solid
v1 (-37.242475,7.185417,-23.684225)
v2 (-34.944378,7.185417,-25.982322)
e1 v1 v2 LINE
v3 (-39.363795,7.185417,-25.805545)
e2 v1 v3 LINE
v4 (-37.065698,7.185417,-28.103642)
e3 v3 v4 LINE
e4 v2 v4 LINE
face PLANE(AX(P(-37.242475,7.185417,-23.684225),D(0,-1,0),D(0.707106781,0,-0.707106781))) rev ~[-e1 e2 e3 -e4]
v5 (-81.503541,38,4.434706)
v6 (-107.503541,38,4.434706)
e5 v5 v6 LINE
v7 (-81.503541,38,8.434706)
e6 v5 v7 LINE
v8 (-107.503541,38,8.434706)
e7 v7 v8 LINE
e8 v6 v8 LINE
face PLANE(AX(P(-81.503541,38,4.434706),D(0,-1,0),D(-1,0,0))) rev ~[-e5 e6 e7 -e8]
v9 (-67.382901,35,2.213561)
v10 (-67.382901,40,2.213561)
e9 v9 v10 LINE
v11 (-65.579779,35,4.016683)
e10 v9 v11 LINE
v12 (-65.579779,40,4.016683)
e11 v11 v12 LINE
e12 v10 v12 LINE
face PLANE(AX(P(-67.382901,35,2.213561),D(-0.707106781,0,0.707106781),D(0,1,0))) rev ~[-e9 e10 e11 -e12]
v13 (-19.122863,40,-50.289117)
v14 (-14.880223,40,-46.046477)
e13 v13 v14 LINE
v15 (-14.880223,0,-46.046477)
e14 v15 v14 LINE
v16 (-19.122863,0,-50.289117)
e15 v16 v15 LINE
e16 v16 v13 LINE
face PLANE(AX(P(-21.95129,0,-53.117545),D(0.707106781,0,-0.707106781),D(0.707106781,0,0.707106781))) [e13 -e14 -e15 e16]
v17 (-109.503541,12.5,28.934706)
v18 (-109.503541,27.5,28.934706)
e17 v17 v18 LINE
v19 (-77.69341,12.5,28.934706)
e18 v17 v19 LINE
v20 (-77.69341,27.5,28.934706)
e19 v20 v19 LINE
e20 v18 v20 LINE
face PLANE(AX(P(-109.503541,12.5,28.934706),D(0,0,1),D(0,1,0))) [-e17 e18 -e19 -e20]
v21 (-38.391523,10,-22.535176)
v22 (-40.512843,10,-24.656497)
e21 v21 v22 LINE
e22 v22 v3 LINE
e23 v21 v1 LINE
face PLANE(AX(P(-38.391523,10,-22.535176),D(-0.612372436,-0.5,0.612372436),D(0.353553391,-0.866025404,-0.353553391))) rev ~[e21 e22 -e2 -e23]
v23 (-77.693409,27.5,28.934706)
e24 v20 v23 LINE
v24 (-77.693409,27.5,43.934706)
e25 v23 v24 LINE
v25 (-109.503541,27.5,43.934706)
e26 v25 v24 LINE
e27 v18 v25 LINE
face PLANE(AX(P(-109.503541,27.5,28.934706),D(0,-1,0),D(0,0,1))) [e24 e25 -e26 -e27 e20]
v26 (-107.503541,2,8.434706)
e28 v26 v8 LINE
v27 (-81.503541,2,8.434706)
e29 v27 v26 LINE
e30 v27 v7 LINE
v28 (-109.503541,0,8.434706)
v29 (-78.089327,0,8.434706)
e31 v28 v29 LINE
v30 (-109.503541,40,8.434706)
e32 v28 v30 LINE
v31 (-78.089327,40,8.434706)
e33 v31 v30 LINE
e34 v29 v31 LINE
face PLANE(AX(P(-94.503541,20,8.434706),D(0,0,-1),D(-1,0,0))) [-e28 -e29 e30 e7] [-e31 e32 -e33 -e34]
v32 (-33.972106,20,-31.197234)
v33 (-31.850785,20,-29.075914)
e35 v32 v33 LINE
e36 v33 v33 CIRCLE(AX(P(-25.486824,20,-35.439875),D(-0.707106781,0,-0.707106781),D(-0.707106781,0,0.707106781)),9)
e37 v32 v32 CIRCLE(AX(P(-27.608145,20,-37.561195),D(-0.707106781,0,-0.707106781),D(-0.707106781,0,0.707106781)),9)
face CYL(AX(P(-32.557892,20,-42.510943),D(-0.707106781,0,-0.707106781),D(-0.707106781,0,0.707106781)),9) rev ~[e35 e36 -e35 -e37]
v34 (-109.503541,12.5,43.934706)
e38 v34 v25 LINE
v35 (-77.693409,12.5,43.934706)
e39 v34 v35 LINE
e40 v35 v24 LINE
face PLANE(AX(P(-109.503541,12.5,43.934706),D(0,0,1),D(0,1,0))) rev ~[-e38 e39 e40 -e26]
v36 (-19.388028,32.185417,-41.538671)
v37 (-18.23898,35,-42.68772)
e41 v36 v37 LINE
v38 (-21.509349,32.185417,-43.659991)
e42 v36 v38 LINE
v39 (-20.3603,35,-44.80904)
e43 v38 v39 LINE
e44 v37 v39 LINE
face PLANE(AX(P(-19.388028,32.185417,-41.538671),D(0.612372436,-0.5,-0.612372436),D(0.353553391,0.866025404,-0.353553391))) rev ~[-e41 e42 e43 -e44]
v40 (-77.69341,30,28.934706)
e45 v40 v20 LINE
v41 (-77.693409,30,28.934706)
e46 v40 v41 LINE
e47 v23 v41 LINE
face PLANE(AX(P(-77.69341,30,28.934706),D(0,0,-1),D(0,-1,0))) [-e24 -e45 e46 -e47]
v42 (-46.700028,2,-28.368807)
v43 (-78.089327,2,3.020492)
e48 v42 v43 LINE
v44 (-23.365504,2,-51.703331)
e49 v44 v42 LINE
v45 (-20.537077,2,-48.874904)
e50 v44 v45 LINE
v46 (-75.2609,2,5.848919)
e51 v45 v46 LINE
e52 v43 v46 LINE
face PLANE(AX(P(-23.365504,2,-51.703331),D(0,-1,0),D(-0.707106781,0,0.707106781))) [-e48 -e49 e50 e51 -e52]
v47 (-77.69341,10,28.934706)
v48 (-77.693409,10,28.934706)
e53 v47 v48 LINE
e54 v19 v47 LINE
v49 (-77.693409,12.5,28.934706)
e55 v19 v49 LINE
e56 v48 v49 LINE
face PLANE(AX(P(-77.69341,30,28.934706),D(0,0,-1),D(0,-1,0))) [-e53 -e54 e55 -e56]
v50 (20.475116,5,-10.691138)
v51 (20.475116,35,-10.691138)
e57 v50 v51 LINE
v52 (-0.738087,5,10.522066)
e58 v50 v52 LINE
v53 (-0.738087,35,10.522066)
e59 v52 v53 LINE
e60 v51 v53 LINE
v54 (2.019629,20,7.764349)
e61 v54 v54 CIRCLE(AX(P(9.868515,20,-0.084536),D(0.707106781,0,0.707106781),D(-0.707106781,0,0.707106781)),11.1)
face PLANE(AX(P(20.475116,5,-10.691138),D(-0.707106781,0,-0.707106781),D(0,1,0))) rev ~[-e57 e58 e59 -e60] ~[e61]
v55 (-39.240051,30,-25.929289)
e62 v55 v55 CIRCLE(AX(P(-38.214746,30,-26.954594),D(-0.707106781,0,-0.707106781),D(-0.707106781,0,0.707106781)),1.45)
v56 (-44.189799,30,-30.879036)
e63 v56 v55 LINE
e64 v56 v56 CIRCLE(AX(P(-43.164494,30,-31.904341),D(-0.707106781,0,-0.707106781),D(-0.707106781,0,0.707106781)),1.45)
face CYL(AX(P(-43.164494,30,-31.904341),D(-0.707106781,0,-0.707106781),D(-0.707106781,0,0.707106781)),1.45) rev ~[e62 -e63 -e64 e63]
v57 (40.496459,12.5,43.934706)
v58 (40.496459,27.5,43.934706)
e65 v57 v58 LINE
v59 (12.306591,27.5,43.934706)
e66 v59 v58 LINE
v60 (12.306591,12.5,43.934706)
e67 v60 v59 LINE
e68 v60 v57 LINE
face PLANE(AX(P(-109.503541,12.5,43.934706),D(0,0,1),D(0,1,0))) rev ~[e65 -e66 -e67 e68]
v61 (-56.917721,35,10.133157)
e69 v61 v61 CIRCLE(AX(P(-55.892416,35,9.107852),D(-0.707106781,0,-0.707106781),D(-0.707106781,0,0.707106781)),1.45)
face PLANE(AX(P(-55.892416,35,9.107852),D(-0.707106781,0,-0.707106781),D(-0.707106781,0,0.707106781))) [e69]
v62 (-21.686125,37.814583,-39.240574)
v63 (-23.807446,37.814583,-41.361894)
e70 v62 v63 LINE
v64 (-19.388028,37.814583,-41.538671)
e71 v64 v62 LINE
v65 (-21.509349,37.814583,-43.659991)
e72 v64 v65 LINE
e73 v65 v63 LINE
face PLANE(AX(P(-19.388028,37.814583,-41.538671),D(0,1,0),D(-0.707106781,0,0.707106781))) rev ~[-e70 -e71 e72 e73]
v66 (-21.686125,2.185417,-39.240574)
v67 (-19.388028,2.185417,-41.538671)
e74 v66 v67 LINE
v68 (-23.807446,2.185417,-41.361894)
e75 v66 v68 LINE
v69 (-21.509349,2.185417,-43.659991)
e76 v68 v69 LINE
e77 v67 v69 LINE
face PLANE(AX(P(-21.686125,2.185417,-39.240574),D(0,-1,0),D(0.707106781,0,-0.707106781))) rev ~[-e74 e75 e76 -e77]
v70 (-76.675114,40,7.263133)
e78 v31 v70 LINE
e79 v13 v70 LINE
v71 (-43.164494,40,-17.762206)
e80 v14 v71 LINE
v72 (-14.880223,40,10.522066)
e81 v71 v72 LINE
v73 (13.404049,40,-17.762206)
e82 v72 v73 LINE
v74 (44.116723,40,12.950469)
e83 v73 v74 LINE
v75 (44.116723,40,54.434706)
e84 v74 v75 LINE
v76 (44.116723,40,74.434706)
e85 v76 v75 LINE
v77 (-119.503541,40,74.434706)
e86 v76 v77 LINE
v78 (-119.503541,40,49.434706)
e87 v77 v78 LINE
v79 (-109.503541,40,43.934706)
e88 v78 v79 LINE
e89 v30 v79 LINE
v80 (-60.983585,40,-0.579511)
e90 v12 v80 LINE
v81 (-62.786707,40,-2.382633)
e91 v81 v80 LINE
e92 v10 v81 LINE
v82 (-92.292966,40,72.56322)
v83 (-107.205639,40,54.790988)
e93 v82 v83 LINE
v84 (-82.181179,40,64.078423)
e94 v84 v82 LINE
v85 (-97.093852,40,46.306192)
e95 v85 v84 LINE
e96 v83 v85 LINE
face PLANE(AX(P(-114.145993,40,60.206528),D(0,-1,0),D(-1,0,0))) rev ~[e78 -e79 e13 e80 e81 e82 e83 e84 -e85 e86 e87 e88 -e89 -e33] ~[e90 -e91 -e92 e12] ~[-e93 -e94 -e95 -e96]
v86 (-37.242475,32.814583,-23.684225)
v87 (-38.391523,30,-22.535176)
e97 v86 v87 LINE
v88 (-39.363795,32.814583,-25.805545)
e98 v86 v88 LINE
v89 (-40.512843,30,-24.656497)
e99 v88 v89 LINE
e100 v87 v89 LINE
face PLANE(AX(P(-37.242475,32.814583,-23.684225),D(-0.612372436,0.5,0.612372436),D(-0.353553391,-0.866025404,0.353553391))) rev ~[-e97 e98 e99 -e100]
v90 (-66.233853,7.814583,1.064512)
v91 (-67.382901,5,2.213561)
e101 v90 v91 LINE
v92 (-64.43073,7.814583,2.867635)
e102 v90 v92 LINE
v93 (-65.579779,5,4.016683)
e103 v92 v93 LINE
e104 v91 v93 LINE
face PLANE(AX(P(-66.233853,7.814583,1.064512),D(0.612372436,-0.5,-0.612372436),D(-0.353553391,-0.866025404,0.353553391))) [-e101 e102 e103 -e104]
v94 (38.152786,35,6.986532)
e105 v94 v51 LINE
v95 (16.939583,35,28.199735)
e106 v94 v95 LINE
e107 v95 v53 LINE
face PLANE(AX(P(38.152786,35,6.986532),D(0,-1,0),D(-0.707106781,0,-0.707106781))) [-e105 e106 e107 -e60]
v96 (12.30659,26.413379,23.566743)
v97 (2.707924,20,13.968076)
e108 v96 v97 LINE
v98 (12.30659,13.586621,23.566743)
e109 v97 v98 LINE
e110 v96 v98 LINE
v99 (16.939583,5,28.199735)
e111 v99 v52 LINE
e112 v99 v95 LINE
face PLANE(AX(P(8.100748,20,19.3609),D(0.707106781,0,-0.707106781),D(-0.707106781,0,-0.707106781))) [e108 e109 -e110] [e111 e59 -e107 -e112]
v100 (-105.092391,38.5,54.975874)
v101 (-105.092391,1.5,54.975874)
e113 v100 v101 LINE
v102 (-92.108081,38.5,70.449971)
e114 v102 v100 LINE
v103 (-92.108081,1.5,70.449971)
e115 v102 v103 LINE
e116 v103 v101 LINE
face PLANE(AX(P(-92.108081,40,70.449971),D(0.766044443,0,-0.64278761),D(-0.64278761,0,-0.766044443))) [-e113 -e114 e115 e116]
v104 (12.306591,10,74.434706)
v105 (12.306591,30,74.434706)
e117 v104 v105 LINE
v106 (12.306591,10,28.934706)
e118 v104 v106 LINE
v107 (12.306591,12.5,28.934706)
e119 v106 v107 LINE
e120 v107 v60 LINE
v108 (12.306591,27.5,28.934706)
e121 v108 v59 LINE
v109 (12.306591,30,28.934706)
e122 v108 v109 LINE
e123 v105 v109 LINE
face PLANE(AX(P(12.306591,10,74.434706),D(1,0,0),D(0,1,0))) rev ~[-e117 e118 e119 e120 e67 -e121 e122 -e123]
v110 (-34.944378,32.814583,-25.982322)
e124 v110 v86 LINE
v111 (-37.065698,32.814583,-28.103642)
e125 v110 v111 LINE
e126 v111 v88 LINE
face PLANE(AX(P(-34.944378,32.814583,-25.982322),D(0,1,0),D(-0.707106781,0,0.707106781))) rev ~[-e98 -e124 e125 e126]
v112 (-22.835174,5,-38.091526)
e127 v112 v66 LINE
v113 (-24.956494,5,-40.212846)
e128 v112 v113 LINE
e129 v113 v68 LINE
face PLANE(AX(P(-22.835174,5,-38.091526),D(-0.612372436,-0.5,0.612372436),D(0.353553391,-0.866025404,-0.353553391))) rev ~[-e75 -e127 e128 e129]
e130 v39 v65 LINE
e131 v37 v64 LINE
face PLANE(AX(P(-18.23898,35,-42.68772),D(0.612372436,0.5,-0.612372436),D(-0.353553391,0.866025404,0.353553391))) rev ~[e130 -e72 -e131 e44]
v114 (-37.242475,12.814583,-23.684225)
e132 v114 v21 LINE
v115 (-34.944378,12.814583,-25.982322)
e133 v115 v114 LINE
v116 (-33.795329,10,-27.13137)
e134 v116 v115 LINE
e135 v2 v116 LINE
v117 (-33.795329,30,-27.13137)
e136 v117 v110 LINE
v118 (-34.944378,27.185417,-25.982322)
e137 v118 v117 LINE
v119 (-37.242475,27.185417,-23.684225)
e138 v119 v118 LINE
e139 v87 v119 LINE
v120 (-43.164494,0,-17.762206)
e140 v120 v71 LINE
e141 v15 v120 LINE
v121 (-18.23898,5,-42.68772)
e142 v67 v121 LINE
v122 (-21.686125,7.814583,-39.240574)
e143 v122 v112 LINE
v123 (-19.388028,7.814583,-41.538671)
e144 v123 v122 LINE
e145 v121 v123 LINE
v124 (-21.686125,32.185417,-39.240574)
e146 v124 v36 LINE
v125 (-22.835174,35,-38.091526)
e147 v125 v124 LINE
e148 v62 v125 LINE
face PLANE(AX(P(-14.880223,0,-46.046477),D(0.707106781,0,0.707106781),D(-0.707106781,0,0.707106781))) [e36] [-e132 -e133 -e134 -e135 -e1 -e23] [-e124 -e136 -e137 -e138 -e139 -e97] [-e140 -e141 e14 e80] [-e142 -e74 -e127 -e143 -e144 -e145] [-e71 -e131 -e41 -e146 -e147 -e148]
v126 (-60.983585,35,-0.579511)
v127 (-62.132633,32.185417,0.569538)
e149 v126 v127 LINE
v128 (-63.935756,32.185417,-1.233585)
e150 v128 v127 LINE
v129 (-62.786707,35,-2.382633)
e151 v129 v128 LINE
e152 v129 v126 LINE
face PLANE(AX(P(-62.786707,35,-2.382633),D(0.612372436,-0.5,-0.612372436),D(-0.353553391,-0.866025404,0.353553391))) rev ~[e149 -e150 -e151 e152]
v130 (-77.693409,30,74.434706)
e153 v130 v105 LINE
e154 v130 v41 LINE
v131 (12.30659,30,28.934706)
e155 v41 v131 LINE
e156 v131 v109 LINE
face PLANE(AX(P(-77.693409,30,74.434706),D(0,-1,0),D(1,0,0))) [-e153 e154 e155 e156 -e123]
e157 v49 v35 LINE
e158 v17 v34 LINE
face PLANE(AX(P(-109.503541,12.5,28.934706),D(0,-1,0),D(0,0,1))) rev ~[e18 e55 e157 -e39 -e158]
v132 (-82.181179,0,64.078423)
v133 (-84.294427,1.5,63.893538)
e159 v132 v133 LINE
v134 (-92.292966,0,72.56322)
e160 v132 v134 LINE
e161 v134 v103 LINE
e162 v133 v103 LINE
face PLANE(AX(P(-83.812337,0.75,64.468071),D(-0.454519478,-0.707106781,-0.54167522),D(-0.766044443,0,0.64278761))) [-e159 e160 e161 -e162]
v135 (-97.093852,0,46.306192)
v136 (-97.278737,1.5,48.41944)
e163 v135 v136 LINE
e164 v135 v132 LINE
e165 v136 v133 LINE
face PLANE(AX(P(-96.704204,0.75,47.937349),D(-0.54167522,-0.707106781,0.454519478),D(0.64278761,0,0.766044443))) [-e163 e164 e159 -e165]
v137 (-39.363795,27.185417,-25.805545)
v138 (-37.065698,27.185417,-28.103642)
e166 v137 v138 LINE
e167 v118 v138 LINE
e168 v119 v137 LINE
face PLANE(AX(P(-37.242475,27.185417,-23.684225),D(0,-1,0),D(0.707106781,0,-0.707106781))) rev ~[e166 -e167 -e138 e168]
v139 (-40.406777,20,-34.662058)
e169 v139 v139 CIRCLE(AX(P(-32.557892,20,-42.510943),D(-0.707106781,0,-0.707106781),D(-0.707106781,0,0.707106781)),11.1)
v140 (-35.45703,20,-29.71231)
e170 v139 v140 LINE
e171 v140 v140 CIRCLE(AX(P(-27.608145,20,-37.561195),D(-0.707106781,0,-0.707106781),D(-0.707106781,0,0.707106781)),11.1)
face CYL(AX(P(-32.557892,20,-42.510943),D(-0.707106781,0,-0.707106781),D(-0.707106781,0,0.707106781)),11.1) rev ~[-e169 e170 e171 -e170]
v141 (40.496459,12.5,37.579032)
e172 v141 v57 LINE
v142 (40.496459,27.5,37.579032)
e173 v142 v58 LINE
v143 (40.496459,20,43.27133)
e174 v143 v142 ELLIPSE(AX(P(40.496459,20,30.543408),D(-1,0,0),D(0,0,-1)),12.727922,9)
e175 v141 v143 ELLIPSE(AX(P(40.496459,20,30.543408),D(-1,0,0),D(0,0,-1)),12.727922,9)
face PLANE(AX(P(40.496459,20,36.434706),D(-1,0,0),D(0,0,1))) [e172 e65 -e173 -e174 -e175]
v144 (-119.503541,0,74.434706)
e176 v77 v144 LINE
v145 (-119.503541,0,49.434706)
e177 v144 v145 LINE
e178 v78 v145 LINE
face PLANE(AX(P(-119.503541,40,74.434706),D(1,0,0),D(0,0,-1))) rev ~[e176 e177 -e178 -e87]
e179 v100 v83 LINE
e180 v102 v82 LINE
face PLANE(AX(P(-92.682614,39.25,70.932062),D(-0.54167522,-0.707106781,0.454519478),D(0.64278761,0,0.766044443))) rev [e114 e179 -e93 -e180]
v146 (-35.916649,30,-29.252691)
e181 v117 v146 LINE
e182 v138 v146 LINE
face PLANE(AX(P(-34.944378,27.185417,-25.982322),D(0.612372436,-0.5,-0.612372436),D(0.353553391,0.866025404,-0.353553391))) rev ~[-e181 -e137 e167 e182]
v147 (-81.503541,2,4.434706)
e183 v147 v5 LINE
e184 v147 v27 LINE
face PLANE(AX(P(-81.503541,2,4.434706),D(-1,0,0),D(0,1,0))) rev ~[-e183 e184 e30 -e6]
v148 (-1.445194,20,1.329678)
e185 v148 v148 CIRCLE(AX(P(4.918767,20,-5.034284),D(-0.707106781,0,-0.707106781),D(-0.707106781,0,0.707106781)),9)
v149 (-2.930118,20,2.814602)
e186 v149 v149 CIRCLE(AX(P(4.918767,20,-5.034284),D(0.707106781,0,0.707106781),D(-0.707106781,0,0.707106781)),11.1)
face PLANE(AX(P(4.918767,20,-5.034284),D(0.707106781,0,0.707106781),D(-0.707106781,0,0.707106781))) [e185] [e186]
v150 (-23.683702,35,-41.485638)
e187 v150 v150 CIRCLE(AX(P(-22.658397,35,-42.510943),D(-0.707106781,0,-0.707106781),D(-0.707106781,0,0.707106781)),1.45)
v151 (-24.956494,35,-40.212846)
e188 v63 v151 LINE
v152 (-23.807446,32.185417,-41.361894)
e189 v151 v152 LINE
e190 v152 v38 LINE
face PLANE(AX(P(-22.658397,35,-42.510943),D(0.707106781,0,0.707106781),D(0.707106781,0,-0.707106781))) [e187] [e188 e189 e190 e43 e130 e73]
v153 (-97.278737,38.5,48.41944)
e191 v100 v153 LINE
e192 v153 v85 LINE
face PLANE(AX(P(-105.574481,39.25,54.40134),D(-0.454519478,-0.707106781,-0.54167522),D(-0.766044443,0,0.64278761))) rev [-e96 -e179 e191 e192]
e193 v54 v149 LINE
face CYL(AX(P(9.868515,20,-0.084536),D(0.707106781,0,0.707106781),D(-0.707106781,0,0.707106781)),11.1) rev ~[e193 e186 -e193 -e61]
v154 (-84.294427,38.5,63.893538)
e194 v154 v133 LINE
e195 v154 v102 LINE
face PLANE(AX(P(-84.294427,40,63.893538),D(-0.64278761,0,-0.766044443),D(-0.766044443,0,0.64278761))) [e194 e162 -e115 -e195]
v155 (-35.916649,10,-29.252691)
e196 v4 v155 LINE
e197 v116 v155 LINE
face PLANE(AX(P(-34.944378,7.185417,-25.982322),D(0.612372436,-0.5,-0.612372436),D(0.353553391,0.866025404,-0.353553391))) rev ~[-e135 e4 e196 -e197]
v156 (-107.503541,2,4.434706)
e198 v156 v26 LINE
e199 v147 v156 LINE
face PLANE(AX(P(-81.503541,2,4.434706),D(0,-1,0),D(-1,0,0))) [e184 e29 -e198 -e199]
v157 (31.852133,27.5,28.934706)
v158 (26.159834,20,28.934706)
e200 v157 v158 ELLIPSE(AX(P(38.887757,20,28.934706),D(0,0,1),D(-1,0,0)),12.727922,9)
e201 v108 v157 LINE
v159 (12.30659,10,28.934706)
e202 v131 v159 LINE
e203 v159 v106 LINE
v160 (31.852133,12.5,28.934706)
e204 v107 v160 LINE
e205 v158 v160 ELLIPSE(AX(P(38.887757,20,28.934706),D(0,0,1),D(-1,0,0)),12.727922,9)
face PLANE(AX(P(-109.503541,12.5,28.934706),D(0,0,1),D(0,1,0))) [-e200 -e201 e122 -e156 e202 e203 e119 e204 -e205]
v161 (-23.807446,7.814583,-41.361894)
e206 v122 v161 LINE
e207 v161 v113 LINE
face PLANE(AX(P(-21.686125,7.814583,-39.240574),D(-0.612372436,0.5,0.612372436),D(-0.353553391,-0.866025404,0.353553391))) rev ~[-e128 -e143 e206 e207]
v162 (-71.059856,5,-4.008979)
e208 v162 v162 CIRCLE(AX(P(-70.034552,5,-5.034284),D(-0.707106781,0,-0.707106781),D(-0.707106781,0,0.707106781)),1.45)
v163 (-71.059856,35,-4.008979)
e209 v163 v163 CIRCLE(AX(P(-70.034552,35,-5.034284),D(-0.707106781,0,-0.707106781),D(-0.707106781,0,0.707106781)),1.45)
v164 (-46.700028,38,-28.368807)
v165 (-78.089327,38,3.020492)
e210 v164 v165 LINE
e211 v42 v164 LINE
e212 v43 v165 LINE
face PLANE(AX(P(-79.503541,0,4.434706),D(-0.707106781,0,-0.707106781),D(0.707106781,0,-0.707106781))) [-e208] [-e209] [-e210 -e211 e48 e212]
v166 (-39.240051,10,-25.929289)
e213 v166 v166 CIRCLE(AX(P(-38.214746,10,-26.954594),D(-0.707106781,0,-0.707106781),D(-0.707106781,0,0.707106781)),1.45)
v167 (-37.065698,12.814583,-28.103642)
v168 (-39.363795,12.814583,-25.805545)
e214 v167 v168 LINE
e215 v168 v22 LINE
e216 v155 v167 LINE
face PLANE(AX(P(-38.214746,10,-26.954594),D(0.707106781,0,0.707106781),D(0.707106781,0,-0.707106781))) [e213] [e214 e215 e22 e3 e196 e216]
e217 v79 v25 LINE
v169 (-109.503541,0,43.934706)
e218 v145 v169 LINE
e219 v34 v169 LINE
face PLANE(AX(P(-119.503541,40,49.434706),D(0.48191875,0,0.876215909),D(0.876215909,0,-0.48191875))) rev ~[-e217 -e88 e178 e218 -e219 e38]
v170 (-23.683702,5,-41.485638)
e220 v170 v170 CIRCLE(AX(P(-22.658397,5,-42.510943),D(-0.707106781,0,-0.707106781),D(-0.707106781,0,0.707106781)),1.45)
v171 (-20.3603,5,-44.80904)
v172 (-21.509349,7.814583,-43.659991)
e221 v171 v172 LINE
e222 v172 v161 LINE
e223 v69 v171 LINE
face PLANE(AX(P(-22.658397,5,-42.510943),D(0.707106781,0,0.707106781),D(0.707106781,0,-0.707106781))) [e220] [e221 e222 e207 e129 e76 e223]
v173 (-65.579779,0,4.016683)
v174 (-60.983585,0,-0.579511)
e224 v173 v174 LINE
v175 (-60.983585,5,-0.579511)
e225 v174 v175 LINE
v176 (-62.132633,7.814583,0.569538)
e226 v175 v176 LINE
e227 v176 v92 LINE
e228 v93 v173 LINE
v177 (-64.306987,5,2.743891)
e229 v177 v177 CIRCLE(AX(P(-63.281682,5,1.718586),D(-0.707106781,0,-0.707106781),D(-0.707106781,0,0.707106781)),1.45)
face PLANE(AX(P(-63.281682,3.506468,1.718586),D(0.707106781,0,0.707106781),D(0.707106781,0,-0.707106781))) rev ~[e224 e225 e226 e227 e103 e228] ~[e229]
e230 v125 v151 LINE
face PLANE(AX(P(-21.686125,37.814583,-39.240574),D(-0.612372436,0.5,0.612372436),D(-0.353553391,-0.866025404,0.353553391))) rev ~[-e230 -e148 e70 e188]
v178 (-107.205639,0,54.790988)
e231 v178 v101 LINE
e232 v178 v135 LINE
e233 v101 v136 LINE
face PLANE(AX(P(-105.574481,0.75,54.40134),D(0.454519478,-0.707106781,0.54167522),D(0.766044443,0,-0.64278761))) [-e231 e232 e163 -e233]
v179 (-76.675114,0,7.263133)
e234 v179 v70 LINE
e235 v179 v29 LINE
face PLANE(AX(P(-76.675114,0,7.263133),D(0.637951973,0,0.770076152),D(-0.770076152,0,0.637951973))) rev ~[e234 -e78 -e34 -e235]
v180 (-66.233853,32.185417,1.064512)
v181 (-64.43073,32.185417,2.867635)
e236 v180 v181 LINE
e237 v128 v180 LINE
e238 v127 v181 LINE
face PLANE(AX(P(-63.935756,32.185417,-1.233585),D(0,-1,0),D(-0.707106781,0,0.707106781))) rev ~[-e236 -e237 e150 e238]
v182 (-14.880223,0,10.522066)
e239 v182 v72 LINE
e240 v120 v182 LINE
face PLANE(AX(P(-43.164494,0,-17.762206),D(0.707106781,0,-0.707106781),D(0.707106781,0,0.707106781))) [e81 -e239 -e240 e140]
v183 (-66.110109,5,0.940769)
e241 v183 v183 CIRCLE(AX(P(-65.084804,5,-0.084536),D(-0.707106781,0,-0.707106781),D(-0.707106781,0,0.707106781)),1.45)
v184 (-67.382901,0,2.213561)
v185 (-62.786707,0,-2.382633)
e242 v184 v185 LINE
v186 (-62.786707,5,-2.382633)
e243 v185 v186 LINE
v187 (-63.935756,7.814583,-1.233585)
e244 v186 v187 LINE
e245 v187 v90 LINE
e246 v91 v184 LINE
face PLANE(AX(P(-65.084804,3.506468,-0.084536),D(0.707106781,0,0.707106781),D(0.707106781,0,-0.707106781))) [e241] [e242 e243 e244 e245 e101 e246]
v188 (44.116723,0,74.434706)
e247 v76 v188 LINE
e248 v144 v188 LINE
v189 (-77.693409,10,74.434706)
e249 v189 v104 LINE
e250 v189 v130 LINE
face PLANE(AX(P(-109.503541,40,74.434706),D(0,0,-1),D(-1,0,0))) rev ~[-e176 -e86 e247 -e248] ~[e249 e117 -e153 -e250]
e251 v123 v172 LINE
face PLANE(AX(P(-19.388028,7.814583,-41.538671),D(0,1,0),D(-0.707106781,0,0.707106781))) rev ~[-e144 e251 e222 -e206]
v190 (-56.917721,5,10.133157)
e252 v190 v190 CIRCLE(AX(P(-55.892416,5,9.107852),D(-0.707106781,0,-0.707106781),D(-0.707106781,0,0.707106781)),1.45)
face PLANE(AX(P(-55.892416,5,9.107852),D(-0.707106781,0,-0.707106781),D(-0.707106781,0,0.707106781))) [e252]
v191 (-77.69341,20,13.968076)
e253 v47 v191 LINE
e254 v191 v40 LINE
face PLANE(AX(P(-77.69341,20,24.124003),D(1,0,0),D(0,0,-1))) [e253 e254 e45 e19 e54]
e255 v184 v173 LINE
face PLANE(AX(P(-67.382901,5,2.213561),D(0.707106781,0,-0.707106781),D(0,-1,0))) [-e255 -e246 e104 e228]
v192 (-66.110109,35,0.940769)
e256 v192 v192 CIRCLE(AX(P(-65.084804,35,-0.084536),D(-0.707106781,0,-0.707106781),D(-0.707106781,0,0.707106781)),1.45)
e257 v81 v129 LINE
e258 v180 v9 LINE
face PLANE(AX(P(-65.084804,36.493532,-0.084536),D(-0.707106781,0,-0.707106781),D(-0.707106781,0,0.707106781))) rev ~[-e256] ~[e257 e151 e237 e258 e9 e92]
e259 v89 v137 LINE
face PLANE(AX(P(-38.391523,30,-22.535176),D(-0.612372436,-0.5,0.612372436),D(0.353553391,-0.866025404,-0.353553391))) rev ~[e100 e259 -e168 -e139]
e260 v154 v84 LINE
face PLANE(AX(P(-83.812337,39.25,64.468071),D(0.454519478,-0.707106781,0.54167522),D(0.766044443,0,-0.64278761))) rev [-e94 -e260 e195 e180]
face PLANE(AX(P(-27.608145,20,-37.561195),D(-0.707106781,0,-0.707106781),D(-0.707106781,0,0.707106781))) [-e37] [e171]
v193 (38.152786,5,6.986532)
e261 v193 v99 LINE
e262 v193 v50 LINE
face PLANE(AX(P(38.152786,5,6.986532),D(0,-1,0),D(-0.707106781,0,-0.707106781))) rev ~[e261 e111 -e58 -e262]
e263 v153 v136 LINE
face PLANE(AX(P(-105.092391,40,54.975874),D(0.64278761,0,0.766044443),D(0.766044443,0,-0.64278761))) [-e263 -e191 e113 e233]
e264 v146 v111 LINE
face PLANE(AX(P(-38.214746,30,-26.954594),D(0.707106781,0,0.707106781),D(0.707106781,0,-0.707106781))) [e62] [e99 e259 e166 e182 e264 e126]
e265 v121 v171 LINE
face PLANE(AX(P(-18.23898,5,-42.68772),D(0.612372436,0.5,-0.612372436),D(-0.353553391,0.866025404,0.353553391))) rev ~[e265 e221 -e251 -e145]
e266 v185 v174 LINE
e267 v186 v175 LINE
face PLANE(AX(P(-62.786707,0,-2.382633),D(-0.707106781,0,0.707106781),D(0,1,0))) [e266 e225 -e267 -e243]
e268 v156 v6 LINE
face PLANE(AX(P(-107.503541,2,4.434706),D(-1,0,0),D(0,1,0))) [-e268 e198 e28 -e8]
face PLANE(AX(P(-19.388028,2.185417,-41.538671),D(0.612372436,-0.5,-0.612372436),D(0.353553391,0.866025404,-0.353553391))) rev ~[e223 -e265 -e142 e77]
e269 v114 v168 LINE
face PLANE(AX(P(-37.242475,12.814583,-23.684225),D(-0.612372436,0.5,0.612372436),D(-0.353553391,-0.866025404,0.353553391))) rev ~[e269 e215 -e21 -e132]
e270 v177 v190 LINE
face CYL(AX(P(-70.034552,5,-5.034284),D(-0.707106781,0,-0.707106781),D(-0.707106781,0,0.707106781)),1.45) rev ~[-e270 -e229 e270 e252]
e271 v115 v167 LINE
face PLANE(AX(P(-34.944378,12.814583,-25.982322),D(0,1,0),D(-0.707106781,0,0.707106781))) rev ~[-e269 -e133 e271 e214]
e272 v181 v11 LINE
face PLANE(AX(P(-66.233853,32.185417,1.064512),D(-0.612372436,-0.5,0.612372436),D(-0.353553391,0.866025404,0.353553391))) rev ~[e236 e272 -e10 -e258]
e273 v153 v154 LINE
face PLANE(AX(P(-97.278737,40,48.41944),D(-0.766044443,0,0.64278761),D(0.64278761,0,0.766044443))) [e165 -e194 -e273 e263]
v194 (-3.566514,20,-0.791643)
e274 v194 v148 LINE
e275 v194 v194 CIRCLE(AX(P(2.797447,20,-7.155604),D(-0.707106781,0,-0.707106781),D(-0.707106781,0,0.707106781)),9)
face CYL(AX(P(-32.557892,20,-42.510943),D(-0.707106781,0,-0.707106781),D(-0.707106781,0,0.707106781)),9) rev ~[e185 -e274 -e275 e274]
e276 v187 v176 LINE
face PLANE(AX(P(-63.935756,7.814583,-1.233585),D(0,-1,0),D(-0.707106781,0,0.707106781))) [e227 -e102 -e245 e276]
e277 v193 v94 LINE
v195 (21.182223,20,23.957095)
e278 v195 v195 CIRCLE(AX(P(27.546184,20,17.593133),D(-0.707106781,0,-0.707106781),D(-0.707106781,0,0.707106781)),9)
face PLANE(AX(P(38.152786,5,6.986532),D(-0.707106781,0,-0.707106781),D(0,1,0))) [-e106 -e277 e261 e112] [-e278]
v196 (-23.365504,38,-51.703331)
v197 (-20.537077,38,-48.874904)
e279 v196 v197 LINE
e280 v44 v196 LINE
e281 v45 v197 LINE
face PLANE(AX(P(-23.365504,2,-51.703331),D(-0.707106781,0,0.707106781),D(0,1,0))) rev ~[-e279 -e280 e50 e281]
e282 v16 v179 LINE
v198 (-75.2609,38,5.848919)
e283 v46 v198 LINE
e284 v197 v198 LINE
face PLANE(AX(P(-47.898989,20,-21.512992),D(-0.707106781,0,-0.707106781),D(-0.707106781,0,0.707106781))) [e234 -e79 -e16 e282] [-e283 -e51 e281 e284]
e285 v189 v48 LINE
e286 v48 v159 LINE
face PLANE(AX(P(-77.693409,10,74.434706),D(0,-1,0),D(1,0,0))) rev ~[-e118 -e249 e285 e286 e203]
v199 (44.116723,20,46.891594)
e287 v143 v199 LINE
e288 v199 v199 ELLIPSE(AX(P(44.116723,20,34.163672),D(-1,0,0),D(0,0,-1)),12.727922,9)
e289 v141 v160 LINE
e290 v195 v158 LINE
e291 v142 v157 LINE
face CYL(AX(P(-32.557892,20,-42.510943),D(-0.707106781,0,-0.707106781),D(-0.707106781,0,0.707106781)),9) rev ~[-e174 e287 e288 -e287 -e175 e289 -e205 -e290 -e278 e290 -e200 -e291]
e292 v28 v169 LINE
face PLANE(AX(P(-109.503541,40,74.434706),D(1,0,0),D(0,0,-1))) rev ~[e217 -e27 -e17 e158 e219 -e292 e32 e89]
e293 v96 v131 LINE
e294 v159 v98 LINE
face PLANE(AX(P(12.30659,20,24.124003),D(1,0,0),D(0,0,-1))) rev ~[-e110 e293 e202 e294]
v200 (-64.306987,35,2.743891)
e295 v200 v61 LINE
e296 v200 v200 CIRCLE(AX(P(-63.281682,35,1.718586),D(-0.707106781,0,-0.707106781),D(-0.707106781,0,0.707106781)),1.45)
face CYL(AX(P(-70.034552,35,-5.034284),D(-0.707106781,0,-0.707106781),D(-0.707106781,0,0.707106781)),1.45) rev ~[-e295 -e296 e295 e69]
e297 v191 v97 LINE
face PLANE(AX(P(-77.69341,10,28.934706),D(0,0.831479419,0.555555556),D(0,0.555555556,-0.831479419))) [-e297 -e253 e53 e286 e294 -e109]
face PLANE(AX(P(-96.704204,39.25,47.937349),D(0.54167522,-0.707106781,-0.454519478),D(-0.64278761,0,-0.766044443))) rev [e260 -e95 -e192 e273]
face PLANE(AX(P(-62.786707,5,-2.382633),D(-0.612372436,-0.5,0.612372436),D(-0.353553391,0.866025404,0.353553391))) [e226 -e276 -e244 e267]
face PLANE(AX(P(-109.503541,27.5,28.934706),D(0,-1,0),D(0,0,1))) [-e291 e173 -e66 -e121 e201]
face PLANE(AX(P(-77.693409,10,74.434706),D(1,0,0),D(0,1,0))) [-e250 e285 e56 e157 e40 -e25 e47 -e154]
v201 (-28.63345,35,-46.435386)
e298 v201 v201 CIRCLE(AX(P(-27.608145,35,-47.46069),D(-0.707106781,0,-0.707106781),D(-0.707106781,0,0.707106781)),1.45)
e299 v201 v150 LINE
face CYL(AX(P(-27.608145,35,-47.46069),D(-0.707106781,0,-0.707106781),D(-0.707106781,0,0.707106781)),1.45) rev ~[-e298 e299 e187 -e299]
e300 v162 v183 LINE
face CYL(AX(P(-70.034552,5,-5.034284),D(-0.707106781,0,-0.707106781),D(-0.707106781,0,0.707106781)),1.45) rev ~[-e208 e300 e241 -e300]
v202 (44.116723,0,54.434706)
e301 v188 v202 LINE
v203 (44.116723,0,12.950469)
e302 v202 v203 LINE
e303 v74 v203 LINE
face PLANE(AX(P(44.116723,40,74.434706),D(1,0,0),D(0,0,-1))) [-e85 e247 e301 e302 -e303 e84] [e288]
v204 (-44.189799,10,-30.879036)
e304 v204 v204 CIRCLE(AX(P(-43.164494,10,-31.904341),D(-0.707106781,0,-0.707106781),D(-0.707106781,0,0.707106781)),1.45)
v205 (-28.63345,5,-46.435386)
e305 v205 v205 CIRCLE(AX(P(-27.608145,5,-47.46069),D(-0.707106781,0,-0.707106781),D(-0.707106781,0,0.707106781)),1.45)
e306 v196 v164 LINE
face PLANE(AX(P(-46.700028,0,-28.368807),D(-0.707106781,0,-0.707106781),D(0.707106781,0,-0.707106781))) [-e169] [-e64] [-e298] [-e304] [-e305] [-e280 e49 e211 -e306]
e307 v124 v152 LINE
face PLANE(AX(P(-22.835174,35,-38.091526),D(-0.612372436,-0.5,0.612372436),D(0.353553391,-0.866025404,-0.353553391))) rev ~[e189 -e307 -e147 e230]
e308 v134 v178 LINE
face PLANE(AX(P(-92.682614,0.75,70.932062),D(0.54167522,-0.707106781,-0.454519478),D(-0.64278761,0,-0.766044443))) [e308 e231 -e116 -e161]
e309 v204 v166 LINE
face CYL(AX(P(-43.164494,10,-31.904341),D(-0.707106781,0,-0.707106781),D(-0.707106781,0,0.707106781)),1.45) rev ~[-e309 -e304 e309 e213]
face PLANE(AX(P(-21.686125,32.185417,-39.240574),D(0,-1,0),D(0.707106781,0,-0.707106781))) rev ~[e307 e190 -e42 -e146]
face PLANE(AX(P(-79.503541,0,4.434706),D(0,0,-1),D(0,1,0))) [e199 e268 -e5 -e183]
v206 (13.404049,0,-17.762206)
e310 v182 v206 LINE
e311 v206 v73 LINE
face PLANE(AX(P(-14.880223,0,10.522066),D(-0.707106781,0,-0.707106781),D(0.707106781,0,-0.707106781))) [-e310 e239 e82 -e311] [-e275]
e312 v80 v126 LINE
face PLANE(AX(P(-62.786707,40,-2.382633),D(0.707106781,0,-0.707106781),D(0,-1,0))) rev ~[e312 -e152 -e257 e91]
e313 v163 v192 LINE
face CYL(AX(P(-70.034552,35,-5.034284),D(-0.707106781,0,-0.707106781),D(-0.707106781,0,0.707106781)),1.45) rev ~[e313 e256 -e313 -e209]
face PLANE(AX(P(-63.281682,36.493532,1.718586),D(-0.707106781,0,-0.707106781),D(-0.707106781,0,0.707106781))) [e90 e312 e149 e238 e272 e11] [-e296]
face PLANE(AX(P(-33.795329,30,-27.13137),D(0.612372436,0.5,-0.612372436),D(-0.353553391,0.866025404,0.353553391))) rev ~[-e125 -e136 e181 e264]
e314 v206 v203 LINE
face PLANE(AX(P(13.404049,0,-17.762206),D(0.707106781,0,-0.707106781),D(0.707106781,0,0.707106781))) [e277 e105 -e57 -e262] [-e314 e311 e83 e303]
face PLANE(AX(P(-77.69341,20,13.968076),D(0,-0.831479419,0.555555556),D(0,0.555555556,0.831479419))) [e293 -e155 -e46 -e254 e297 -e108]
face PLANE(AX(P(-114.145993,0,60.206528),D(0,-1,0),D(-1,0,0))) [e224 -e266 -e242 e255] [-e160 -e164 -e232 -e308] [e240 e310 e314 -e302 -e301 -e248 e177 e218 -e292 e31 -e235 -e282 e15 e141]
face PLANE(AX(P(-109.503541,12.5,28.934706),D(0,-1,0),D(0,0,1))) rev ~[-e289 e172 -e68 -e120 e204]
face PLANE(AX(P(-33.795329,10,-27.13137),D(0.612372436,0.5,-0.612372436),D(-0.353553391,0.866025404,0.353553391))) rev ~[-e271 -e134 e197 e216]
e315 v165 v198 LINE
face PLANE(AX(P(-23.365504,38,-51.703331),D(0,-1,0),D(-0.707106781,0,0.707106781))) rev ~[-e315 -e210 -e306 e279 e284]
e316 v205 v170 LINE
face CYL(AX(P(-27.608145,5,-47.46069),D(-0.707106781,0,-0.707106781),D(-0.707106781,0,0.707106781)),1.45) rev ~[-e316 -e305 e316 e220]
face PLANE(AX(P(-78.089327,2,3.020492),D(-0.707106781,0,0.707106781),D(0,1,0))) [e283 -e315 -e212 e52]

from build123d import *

# Parameters (mm, degrees)
BOSS_EXTRUDE1_DEPTH  = 40
SKETCH3_R            = 9
CUT_EXTRUDE1_DEPTH   = 135.350288425
SKETCH4_W            = 25
SKETCH4_H            = 30
CUT_EXTRUDE2_DEPTH   = 30
SKETCH5_R            = 11.1
CUT_EXTRUDE3_DEPTH   = 7
SKETCH6_R            = 11.1
CUT_EXTRUDE4_DEPTH   = 7
CUT_EXTRUDE5_DEPTH   = 41
SKETCH9_W            = 50
SKETCH9_H            = 40
BOSS_EXTRUDE2_DEPTH  = 30
SKETCH11_R           = 1.45
CUT_EXTRUDE8_DEPTH   = 20
SKETCH15_W           = 81.391173049
SKETCH15_H           = 40
SKETCH15_W_2         = 77.391173049
SKETCH15_H_2         = 36
CUT_EXTRUDE9_DEPTH   = 4
SKETCH16_W           = 30
SKETCH16_H           = 40
SKETCH16_W_2         = 26
SKETCH16_H_2         = 36
CUT_EXTRUDE10_DEPTH  = 4
CUT_EXTRUDE11_DEPTH  = 41
SKETCH18_W           = 153.620263659
SKETCH18_H           = 20
BOSS_EXTRUDE3_DEPTH  = 40
CUT_EXTRUDE7_DEPTH   = 41
SKETCH19_W           = 15
SKETCH19_H           = 15
CUT_EXTRUDE12_DEPTH  = 150
SKETCH20_R           = 1.45
CUT_EXTRUDE13_DEPTH  = 20
CUT_EXTRUDE16_DEPTH  = 3
CUT_EXTRUDE18_START  = -7
CUT_EXTRUDE18_DEPTH  = 2.55
SKETCH38_W           = 90
SKETCH38_H           = 20
CUT_EXTRUDE19_DEPTH  = 45.5
CUT_EXTRUDE21_START  = -31.810131
CUT_EXTRUDE21_DEPTH  = 90
BOSS_EXTRUDE11_DEPTH = 40
CHAMFER1_SIZE        = 1.5


with BuildPart() as part:
    # Sketch1 → Boss-Extrude1 (new body)
    with BuildSketch(Plane(origin=(0, 0, 0), x_dir=(1, 0, 0), z_dir=(0, 1, 0))):
        Polygon((-79.503540842, -54.434705768), (-79.503540842, -4.434705768), (-46.700027791, 28.368807283), (-21.951290449, 53.117544624), (-14.880222638, 46.046476813), (-43.164493885, 17.762205565), (-14.880222638, -10.522065682), (13.40404861, 17.762205565), (60.496459158, -29.330204983), (60.496459158, -54.434705768), align=None)
    extrude(amount=BOSS_EXTRUDE1_DEPTH)

    # Sketch3 → Cut-Extrude1 (cut, through all)
    with BuildSketch(Plane(origin=(-37.534417537, 0, -37.534417537), x_dir=(-0.707106781, 0, 0.707106781), z_dir=(-0.707106781, 0, -0.707106781))):
        with Locations((-7.037869671, 20)):
            Circle(SKETCH3_R)
    extrude(amount=-CUT_EXTRUDE1_DEPTH, mode=Mode.SUBTRACT)

    # Sketch4 → Cut-Extrude2 (cut)
    with BuildSketch(Plane(origin=(15.583127088, 0, -15.583127088), x_dir=(-0.707106781, 0, -0.707106781), z_dir=(0.707106781, 0, -0.707106781))):
        with Locations((-19.418317664, 20)):
            Rectangle(SKETCH4_W, SKETCH4_H)
    extrude(amount=-CUT_EXTRUDE2_DEPTH, mode=Mode.SUBTRACT)

    # Sketch5 → Cut-Extrude3 (cut)
    with BuildSketch(Plane(origin=(-37.534417537, 0, -37.534417537), x_dir=(-0.707106781, 0, 0.707106781), z_dir=(-0.707106781, 0, -0.707106781))):
        with Locations((-7.037869671, 20)):
            Circle(SKETCH5_R)
    extrude(amount=-CUT_EXTRUDE3_DEPTH, mode=Mode.SUBTRACT)

    # Sketch6 → Cut-Extrude4 (cut)
    with BuildSketch(Plane(origin=(4.891989334, 0, 4.891989334), x_dir=(0.707106781, 0, -0.707106781), z_dir=(0.707106781, 0, 0.707106781))):
        with Locations(Location((7.037869671, 20, 0), (0, 0, 180))):  # turned: the seam where the file's is
            Circle(SKETCH6_R)
    extrude(amount=-CUT_EXTRUDE4_DEPTH, mode=Mode.SUBTRACT)

    # Sketch7 → Cut-Extrude5 (cut, through all)
    with BuildSketch(Plane(origin=(0, 40, 0), x_dir=(1, 0, 0), z_dir=(0, 1, 0))):
        Polygon((44.116722817, -12.950468642), (44.116722817, -54.434705768), (60.496459158, -54.434705768), (60.496459158, -29.330204983), align=None)
    extrude(amount=-CUT_EXTRUDE5_DEPTH, mode=Mode.SUBTRACT)

    # Sketch9 → Boss-Extrude2 (add)
    with BuildSketch(Plane.ZY.offset(79.503540842)):
        with Locations((29.434705768, 20)):
            Rectangle(SKETCH9_W, SKETCH9_H)
    extrude(amount=BOSS_EXTRUDE2_DEPTH)

    # Sketch11 → Cut-Extrude8 (cut)
    with BuildSketch(Plane(origin=(-37.534417537, 0, -37.534417537), x_dir=(-0.707106781, 0, 0.707106781), z_dir=(-0.707106781, 0, -0.707106781))):
        with Locations((7.962130329, 10)):
            Circle(SKETCH11_R)
        with Locations((7.962130329, 30)):
            Circle(SKETCH11_R)
    extrude(amount=-CUT_EXTRUDE8_DEPTH, mode=Mode.SUBTRACT)

    # Sketch15 → Cut-Extrude9 (cut)
    with BuildSketch(Plane(origin=(-37.534417537, 0, -37.534417537), x_dir=(-0.707106781, 0, 0.707106781), z_dir=(-0.707106781, 0, -0.707106781))):
        with Locations((18.657716854, 20)):
            Rectangle(SKETCH15_W, SKETCH15_H)
        with Locations((18.657716854, 20)):
            Rectangle(SKETCH15_W_2, SKETCH15_H_2, mode=Mode.SUBTRACT)
    extrude(amount=-CUT_EXTRUDE9_DEPTH, mode=Mode.SUBTRACT)

    # Sketch16 → Cut-Extrude10 (cut)
    with BuildSketch(Plane(origin=(0, 0, 4.434705768), x_dir=(-1, 0, 0), z_dir=(0, 0, -1))):
        with Locations((94.503540842, 20)):
            Rectangle(SKETCH16_W, SKETCH16_H)
        with Locations((94.503540842, 20)):
            Rectangle(SKETCH16_W_2, SKETCH16_H_2, mode=Mode.SUBTRACT)
    extrude(amount=-CUT_EXTRUDE10_DEPTH, mode=Mode.SUBTRACT)

    # Sketch17 → Cut-Extrude11 (cut, through all)
    with BuildSketch(Plane.XZ):
        Polygon((-76.675113717, 7.263132892), (-78.089327279, 8.434705768), (-79.503540842, 8.434705768), (-79.503540842, 4.434705768), align=None)
    extrude(amount=-CUT_EXTRUDE11_DEPTH, mode=Mode.SUBTRACT)

    # Sketch18 → Boss-Extrude3 (add)
    with BuildSketch(Plane(origin=(0, 40, 0), x_dir=(1, 0, 0), z_dir=(0, 1, 0))):
        with Locations((-32.693409012, -64.434705768)):
            Rectangle(SKETCH18_W, SKETCH18_H)
    extrude(amount=-BOSS_EXTRUDE3_DEPTH)

    # Sketch10 → Cut-Extrude7 (cut, through all)
    with BuildSketch(Plane(origin=(0, 40, 0), x_dir=(1, 0, 0), z_dir=(0, 1, 0))):
        Polygon((-92.108080814, -70.449971453), (-105.09239053, -54.975873702), (-97.27873721, -48.419440083), (-84.294427494, -63.893537834), align=None)
    extrude(amount=-CUT_EXTRUDE7_DEPTH, mode=Mode.SUBTRACT)

    # Sketch19 → Cut-Extrude12 (cut)
    with BuildSketch(Plane.ZY.offset(109.503540842)):
        with Locations((36.434705768, 20)):
            Rectangle(SKETCH19_W, SKETCH19_H)
    extrude(amount=-CUT_EXTRUDE12_DEPTH, mode=Mode.SUBTRACT)

    # Sketch20 → Cut-Extrude13 (cut)
    with BuildSketch(Plane(origin=(-37.534417537, 0, -37.534417537), x_dir=(-0.707106781, 0, 0.707106781), z_dir=(-0.707106781, 0, -0.707106781))):
        with Locations((45.962130329, 5)):
            Circle(SKETCH20_R)
        with Locations((45.962130329, 35)):
            Circle(SKETCH20_R)
        with Locations((-14.037869671, 35)):
            Circle(SKETCH20_R)
        with Locations((-14.037869671, 5)):
            Circle(SKETCH20_R)
    extrude(amount=-CUT_EXTRUDE13_DEPTH, mode=Mode.SUBTRACT)

    # Sketch36 → Cut-Extrude16 (cut)
    with BuildSketch(Plane(origin=(-30.463349725, 0, -30.463349725), x_dir=(0.707106781, 0, -0.707106781), z_dir=(0.707106781, 0, 0.707106781))):
        Polygon((12.412869671, 37.814582562), (10.787869671, 35), (12.412869671, 32.185417438), (15.662869671, 32.185417438), (17.287869671, 35), (15.662869671, 37.814582562), align=None)
        Polygon((15.662869671, 7.814582562), (12.412869671, 7.814582562), (10.787869671, 5), (12.412869671, 2.185417438), (15.662869671, 2.185417438), (17.287869671, 5), align=None)
        Polygon((-6.337130329, 32.814582562), (-9.587130329, 32.814582562), (-11.212130329, 30), (-9.587130329, 27.185417438), (-6.337130329, 27.185417438), (-4.712130329, 30), align=None)
        Polygon((-6.337130329, 12.814582562), (-9.587130329, 12.814582562), (-11.212130329, 10), (-9.587130329, 7.185417438), (-6.337130329, 7.185417438), (-4.712130329, 10), align=None)
    extrude(amount=-CUT_EXTRUDE16_DEPTH, mode=Mode.SUBTRACT)

    # Sketch37 → Cut-Extrude18 (cut)
    with BuildSketch(Plane(origin=(-37.534417537, 0, -37.534417537), x_dir=(-0.707106781, 0, 0.707106781), z_dir=(-0.707106781, 0, -0.707106781)).offset(CUT_EXTRUDE18_START)):
        Polygon((49.212130329, 5), (49.212130329, 0), (42.712130329, 0), (42.712130329, 5), (44.337130329, 7.814582562), (47.587130329, 7.814582562), align=None)
        Polygon((42.712130329, 35), (44.337130329, 32.185417438), (47.587130329, 32.185417438), (49.212130329, 35), (49.212130329, 40), (42.712130329, 40), align=None)
    extrude(amount=-CUT_EXTRUDE18_DEPTH, mode=Mode.SUBTRACT)

    # Sketch38 → Cut-Extrude19 (cut)
    with BuildSketch(Plane.XY.offset(74.434705768)):
        with Locations((-32.693409012, 20)):
            Rectangle(SKETCH38_W, SKETCH38_H)
    extrude(amount=-CUT_EXTRUDE19_DEPTH, mode=Mode.SUBTRACT)

    # Sketch39 → Cut-Extrude21 (cut)
    with BuildSketch(Plane.ZY.offset(109.503540842).offset(CUT_EXTRUDE21_START)):
        Polygon((28.934705768, 10), (13.968076221, 20), (28.934705768, 30), align=None)
    extrude(amount=-CUT_EXTRUDE21_DEPTH, mode=Mode.SUBTRACT)

    # Sketch42 → Boss-Extrude11 (add)
    with BuildSketch(Plane(origin=(0, 40, 0), x_dir=(1, 0, 0), z_dir=(0, 1, 0))):
        Polygon((-109.503540842, -43.934705768), (-109.503540842, -74.434705768), (-119.503540842, -74.434705768), (-119.503540842, -49.434705768), align=None)
    extrude(amount=-BOSS_EXTRUDE11_DEPTH)

    # Chamfer1
    chamfer1_edges = [part.edges().sort_by_distance(p)[0] for p in [
        (-88.201254154, 0, 67.171754643),
        (-98.600235672, 0, 62.712922577),
        (-101.18556387, 0, 51.697656892),
        (-90.786582352, 0, 56.156488958),
        (-88.201254154, 40, 67.171754643),
        (-90.786582352, 40, 56.156488958),
        (-101.18556387, 40, 51.697656892),
        (-98.600235672, 40, 62.712922577),
    ]]
    chamfer(chamfer1_edges, length=CHAMFER1_SIZE)


solid = part.part
